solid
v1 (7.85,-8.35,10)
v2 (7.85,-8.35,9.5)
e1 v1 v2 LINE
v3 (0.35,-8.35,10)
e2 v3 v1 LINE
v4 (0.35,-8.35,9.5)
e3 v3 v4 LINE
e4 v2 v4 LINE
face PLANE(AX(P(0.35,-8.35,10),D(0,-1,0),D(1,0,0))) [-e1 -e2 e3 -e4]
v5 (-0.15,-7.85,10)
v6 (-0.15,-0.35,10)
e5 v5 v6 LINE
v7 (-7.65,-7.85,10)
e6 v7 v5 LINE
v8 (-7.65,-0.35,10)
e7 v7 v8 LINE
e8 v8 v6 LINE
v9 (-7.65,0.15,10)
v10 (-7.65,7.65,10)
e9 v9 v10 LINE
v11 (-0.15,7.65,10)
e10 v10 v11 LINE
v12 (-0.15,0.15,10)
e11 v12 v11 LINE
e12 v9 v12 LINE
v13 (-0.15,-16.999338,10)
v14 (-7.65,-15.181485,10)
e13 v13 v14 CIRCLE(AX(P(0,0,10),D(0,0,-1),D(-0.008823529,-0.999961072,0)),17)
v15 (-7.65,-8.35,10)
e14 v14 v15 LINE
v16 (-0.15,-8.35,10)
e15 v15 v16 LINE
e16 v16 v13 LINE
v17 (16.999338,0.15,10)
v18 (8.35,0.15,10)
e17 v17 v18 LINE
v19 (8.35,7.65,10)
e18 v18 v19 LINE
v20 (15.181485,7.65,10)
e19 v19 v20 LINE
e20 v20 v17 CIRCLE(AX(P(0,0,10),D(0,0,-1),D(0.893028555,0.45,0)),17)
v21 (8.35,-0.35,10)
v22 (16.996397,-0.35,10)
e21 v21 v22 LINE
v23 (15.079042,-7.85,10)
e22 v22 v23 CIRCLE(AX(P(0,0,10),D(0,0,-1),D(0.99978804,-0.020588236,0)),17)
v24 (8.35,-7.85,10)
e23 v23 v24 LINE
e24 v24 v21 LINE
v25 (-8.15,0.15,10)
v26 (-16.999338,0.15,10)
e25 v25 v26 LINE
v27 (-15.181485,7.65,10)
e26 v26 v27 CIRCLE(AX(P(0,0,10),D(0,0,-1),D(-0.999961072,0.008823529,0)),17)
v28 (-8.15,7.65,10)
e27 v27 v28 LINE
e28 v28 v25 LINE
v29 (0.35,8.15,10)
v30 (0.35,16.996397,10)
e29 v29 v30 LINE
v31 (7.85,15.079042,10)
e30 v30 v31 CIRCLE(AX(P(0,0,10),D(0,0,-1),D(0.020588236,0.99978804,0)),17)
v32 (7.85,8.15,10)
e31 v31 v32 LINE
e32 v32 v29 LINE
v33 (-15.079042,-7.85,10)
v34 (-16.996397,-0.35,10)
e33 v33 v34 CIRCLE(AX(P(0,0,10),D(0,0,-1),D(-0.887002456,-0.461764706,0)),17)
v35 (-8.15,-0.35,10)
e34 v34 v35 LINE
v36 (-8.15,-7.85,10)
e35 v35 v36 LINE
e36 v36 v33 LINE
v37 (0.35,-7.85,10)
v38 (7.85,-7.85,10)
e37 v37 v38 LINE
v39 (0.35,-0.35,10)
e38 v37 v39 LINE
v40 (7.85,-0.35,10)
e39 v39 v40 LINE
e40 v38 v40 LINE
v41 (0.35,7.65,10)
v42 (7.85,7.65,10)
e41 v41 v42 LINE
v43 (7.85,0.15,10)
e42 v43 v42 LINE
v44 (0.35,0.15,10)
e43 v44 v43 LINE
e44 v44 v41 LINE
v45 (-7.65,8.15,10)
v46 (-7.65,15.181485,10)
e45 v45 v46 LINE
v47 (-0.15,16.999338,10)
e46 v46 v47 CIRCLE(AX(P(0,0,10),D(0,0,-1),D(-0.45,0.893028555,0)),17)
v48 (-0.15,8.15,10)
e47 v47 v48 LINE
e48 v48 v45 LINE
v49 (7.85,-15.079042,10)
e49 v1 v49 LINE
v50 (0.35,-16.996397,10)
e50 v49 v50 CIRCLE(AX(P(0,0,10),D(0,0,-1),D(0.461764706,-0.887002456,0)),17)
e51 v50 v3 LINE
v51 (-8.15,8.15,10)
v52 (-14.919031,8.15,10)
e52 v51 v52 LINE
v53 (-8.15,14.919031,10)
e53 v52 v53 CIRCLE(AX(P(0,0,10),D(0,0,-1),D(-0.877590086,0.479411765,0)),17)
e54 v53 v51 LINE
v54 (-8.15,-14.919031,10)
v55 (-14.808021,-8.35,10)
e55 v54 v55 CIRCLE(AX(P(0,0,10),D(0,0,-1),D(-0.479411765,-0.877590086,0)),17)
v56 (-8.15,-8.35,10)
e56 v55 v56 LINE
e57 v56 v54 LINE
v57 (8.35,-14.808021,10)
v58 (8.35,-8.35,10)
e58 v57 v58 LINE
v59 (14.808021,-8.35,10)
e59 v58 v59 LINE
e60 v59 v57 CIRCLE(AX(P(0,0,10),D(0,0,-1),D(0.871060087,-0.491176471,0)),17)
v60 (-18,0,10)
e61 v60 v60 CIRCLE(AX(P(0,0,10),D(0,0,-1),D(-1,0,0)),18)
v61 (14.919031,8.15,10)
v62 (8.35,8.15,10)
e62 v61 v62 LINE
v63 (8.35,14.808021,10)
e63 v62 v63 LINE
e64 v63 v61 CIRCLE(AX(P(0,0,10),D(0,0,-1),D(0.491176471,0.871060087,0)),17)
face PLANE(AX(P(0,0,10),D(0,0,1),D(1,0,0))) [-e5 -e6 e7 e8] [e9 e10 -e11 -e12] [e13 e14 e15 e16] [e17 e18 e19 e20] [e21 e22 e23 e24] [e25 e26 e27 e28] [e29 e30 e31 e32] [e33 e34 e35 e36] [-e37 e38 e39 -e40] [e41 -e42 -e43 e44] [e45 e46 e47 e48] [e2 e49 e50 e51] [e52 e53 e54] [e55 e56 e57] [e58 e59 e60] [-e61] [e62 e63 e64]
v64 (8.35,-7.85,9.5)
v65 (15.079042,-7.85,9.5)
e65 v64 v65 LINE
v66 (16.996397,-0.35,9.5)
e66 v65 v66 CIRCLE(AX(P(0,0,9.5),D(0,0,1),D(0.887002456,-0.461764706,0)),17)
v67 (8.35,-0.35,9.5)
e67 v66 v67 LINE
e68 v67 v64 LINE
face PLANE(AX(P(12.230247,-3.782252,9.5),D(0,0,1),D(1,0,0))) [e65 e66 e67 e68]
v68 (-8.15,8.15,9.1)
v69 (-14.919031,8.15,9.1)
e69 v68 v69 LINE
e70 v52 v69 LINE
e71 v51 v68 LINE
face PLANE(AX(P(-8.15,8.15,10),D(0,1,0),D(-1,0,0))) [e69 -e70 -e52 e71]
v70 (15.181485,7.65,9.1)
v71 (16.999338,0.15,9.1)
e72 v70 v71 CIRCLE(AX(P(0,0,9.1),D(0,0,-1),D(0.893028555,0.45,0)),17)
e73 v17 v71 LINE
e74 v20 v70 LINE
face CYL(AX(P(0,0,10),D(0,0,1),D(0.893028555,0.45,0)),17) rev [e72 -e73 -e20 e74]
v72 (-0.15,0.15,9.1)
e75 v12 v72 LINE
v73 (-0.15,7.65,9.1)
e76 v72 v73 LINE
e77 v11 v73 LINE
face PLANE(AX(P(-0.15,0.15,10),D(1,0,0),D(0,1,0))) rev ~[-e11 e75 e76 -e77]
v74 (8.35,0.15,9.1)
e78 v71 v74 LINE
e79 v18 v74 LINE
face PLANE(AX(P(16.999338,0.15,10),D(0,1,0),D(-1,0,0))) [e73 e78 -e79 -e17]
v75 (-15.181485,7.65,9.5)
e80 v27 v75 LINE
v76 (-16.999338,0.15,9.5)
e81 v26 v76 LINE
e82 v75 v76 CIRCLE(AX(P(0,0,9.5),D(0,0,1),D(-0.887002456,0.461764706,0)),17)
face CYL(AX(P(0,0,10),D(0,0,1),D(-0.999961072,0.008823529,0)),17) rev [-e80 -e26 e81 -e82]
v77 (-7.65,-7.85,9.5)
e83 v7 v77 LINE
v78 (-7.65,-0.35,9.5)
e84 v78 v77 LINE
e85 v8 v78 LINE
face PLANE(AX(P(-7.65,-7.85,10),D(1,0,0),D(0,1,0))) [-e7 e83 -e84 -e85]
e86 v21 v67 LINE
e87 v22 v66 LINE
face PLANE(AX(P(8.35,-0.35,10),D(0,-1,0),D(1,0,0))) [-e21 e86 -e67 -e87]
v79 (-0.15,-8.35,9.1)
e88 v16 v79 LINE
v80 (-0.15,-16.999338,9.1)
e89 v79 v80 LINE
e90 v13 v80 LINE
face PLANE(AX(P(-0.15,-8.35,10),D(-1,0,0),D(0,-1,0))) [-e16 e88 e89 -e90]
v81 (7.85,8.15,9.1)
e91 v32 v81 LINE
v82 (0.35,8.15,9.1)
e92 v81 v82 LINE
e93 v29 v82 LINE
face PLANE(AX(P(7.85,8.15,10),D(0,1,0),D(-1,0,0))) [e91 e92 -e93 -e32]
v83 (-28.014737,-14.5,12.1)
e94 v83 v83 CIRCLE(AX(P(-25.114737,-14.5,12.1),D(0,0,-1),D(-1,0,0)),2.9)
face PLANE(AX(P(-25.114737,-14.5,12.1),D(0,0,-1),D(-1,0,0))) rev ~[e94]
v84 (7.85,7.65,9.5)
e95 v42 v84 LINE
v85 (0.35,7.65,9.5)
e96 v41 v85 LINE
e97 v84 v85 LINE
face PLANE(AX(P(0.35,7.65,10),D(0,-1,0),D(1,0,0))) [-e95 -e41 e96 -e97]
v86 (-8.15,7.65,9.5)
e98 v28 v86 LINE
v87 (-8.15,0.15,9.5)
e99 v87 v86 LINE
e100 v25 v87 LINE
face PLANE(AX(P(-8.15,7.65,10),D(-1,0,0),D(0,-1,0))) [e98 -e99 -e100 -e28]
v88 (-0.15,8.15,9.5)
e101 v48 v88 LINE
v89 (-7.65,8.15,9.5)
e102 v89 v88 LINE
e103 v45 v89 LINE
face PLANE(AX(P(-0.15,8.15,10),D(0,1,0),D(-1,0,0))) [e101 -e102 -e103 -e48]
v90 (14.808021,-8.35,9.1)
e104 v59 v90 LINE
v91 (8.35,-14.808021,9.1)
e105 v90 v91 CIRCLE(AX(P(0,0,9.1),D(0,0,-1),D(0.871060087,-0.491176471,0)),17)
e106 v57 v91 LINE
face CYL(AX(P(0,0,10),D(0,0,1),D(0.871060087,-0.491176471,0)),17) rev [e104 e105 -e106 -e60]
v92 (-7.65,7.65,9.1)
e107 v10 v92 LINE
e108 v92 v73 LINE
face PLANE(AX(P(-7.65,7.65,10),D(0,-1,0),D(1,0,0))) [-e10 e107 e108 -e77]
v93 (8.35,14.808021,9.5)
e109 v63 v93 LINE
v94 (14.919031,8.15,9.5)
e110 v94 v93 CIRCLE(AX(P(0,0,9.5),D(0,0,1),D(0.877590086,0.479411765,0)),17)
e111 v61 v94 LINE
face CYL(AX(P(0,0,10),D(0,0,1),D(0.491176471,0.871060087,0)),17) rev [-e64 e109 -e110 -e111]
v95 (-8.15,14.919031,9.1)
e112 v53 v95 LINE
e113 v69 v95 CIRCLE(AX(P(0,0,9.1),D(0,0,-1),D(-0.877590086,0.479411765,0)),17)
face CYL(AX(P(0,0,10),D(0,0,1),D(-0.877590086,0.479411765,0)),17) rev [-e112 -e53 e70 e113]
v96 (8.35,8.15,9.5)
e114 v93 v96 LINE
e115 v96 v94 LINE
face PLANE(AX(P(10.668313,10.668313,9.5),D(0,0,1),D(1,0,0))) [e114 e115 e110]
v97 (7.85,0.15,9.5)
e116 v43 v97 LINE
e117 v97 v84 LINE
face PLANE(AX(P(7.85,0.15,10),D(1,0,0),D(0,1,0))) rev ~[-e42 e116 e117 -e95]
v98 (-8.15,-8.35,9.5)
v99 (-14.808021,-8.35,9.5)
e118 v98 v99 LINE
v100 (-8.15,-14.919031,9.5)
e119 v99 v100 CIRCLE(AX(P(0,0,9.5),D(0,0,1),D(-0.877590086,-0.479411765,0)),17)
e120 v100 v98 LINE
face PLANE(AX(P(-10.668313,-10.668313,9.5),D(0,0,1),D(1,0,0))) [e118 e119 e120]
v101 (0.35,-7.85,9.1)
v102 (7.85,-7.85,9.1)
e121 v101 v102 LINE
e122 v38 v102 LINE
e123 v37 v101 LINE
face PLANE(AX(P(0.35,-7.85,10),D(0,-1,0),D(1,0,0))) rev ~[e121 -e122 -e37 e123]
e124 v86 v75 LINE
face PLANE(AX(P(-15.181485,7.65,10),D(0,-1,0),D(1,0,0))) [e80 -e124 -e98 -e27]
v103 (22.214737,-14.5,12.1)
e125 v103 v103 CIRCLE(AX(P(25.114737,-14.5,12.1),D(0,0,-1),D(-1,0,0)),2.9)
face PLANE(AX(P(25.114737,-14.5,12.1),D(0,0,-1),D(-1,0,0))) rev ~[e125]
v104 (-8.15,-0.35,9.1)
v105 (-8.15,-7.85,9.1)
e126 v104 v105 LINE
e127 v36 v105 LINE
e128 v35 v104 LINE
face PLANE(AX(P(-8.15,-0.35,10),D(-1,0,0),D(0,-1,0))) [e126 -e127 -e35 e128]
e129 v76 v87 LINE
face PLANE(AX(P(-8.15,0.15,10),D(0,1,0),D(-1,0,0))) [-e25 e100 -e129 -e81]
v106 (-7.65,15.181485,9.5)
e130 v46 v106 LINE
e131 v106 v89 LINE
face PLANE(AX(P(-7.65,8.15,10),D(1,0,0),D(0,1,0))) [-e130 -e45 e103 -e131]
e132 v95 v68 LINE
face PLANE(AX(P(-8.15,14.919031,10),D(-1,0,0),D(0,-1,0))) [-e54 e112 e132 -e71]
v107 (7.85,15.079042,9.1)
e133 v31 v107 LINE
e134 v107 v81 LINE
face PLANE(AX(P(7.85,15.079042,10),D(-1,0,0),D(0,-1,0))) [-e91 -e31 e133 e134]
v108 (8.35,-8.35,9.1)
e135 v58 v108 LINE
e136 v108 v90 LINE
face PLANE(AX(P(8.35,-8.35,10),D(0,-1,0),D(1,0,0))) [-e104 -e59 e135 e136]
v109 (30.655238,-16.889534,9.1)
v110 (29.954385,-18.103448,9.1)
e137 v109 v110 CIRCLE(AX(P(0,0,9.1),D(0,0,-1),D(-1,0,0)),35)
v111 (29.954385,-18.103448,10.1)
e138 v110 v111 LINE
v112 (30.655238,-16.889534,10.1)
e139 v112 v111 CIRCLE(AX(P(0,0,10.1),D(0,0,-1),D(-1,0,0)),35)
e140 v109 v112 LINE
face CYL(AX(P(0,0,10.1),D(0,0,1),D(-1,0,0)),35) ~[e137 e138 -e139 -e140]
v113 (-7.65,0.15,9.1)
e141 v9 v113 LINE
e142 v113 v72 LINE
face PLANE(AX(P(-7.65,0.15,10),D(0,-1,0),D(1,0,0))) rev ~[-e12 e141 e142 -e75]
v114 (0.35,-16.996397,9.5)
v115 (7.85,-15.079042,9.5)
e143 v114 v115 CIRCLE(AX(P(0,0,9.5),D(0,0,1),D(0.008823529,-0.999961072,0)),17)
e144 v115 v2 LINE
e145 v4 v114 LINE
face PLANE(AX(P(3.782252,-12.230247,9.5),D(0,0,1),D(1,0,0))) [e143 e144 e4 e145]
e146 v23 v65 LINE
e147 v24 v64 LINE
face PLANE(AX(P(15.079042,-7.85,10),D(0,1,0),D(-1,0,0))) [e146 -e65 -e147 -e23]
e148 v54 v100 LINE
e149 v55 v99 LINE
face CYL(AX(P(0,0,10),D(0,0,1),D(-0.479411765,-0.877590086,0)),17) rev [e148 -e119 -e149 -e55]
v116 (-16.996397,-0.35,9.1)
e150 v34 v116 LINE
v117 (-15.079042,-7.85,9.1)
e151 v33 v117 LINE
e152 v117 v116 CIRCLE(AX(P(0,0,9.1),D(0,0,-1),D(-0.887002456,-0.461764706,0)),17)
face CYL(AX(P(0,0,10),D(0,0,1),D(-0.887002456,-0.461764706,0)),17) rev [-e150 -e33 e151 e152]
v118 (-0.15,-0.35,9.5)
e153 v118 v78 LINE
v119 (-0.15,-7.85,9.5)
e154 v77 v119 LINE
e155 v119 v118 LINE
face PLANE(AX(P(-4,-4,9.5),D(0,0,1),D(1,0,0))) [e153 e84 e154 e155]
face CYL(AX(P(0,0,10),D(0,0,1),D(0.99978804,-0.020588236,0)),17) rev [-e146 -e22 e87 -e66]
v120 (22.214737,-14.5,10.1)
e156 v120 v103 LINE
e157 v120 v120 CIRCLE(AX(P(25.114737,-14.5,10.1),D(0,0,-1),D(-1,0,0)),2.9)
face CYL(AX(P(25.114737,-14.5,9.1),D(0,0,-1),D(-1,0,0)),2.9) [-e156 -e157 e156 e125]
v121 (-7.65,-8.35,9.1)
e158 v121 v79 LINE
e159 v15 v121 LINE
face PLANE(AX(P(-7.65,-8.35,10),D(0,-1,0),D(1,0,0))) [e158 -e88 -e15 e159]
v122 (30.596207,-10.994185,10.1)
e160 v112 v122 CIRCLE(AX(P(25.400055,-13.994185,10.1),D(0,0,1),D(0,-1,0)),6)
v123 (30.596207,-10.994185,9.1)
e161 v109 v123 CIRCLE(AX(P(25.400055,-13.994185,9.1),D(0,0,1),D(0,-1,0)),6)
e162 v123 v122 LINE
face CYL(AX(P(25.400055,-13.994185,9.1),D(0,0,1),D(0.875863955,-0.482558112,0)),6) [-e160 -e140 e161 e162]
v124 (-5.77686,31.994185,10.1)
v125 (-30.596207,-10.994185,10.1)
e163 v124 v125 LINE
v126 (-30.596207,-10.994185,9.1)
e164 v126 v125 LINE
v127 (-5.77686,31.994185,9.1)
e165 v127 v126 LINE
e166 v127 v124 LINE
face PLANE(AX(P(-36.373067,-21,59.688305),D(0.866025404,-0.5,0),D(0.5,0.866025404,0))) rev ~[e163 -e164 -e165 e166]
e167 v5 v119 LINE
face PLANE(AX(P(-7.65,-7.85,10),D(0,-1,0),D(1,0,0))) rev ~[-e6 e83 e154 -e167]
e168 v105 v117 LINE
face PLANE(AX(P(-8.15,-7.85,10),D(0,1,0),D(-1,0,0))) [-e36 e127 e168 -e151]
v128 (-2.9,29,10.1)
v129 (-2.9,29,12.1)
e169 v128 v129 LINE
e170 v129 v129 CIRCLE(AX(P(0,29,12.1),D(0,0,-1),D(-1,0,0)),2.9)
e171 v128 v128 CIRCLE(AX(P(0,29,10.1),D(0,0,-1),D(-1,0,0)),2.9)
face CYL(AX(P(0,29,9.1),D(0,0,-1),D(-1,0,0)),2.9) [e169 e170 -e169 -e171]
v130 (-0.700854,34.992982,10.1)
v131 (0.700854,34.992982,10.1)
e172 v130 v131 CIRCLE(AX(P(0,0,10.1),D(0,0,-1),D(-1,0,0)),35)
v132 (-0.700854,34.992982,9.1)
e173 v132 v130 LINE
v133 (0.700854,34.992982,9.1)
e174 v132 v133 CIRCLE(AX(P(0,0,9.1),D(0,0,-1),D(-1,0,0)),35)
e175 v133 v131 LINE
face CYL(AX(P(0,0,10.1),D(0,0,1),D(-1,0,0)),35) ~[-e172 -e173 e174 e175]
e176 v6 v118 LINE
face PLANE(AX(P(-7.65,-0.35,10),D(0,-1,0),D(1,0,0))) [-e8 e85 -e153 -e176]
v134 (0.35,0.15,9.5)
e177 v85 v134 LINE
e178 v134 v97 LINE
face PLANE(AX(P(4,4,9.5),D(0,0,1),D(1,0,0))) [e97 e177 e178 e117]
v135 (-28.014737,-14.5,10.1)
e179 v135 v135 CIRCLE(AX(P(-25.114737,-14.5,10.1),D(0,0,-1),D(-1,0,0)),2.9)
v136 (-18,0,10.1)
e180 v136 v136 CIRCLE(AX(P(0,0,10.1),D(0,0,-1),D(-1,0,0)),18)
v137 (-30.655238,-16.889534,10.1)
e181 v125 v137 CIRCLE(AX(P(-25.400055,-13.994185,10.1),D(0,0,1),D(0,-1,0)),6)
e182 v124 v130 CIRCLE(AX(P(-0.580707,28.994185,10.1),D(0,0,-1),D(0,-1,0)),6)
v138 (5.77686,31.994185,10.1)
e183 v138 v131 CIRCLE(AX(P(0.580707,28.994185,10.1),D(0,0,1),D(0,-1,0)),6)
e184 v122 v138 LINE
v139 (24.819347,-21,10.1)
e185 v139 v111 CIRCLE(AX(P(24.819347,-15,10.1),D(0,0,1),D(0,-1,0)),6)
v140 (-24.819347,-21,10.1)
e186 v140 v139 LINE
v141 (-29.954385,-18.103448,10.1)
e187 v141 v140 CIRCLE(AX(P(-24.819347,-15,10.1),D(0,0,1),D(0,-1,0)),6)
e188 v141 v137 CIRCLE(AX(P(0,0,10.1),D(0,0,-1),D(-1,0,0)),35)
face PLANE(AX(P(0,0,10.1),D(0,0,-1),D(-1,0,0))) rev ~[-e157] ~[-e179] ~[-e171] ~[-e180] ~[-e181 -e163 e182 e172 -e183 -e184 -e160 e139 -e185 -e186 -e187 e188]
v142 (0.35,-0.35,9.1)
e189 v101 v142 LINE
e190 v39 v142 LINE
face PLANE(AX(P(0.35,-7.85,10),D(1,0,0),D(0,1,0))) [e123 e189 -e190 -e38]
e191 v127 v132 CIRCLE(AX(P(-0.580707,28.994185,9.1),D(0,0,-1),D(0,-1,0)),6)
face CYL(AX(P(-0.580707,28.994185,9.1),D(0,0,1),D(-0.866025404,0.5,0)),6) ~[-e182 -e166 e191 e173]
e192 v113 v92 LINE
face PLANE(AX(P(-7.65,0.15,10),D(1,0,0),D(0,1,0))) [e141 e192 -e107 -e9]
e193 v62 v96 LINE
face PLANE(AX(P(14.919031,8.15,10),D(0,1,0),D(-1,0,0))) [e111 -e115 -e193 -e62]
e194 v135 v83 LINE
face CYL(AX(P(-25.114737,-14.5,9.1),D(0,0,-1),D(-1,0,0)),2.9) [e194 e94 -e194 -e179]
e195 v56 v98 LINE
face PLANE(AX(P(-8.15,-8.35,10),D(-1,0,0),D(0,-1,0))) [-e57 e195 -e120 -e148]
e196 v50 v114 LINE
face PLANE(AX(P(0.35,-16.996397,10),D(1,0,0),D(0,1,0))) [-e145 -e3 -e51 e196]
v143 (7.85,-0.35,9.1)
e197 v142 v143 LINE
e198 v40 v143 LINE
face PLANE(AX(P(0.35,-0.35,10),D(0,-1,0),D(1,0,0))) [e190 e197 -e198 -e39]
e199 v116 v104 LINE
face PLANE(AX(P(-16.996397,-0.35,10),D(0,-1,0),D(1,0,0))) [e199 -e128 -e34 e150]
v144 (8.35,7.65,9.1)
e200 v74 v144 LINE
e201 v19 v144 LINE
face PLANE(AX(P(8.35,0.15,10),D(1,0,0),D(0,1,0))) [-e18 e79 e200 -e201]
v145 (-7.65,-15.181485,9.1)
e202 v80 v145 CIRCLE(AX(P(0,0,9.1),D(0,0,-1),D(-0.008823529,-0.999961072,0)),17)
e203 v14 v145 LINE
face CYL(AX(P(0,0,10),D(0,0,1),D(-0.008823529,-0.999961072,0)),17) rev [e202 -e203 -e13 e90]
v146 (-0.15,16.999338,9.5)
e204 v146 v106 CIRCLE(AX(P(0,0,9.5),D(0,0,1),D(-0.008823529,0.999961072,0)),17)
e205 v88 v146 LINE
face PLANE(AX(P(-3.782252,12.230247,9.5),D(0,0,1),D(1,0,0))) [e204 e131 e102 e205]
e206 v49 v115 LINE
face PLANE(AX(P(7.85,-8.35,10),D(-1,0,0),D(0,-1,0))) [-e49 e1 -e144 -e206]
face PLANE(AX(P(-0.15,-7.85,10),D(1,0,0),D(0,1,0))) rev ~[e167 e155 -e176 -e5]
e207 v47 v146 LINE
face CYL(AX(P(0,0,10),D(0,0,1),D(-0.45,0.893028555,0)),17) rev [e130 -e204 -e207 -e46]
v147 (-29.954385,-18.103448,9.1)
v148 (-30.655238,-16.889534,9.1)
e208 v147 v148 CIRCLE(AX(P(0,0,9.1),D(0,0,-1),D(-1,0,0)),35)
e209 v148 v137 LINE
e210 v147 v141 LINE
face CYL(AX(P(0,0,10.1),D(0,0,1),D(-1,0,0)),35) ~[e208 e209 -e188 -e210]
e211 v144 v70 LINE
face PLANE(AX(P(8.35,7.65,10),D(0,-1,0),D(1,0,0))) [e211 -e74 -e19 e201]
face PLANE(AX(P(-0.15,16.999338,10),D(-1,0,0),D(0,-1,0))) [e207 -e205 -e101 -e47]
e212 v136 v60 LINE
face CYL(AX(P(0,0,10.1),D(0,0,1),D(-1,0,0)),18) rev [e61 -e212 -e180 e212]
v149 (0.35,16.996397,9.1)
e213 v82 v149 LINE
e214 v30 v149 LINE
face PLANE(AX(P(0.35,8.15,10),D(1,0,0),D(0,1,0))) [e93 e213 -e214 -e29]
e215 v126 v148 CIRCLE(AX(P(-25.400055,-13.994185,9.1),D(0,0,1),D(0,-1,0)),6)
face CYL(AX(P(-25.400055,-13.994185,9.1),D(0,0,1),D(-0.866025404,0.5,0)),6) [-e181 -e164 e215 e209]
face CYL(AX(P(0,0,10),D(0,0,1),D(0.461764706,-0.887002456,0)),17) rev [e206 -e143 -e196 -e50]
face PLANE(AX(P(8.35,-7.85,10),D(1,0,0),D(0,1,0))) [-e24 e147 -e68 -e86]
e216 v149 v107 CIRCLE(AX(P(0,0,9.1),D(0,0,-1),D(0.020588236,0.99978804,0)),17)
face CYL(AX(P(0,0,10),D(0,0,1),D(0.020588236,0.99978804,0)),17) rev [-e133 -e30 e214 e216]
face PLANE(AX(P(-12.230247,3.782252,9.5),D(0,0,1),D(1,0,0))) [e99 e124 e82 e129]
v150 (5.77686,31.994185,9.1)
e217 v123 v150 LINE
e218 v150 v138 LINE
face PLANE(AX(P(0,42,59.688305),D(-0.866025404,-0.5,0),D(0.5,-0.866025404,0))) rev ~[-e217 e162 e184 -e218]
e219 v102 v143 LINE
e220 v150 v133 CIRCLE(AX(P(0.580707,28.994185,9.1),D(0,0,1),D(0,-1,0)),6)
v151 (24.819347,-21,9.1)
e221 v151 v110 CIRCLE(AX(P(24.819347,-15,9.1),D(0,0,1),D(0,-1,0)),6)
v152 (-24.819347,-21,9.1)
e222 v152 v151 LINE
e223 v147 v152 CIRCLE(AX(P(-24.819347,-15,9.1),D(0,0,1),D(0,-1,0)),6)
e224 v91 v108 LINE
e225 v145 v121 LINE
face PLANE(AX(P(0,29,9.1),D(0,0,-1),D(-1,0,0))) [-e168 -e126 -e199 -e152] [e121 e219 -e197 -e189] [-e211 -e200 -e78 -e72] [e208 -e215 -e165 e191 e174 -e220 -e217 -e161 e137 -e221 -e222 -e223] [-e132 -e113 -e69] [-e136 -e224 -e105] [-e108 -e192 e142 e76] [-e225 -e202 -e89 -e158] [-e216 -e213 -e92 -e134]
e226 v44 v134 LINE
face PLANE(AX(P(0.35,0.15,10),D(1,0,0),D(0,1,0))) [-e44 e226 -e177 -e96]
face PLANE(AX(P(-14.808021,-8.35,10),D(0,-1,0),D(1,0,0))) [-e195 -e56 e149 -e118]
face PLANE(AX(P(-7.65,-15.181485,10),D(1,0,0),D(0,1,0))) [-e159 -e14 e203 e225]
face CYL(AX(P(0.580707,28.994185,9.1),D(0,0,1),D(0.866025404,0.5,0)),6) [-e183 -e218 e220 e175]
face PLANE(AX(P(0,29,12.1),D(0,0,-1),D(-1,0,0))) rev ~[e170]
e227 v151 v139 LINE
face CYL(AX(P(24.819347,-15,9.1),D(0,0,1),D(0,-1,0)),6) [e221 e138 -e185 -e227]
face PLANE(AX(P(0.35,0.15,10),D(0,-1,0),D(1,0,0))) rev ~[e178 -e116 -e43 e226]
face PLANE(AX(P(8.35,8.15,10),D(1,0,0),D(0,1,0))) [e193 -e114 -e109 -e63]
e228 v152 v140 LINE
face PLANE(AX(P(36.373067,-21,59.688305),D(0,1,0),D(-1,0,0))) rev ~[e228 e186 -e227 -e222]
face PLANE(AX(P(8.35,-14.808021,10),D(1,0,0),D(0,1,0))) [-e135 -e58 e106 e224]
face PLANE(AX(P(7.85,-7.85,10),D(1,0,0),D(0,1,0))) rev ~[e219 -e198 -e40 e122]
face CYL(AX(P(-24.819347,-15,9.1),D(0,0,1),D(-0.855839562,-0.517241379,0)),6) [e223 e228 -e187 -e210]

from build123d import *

# Parameters (mm, degrees)
SKETCH2_R               = 18
SKETCH2_W               = 7.5
SKETCH2_H               = 7.5
BOSS_EXTRUDE1_DEPTH     = 0.9
BOSS_EXTRUDE10_START    = 0.4
SKETCH18_W              = 7.7
SKETCH18_H              = 7.7
BOSS_EXTRUDE10_DEPTH    = 0.4
BOSS_EXTRUDE2_START     = -1
SKETCH3_R               = 35
SKETCH3_R_2             = 18
BOSS_EXTRUDE2_DEPTH     = 1
SKETCH4_R               = 2.9
BOSS_EXTRUDE3_DEPTH     = 3
CUT_EXTRUDE1_DEPTH      = 50.588305073
CUT_EXTRUDE1_DEPTH_BACK = 50.588305073
SKETCH7_R               = 59.131365533
FILLET1_R               = 6


with BuildPart() as part:
    # Sketch2 → Boss-Extrude1 (new body)
    with BuildSketch(Plane.XY.offset(10)):
        Circle(SKETCH2_R)
        with BuildLine():
            Line((-8.15, -8.35), (-8.15, -14.91903147))
            ThreePointArc((-8.15, -14.91903147), (-11.939670478, -12.101415986), (-14.808021475, -8.35))
            Line((-14.808021475, -8.35), (-8.15, -8.35))
        make_face(mode=Mode.SUBTRACT)
        with BuildLine():
            Line((-8.15, -7.85), (-15.079041747, -7.85))
            ThreePointArc((-15.079041747, -7.85), (-16.470304718, -4.210589327), (-16.996396677, -0.35))
            Line((-16.996396677, -0.35), (-8.15, -0.35))
            Line((-8.15, -0.35), (-8.15, -7.85))
        make_face(mode=Mode.SUBTRACT)
        with BuildLine():
            Line((-8.15, 0.15), (-16.999338222, 0.15))
            ThreePointArc((-16.999338222, 0.15), (-16.521617742, 4.00451585), (-15.181485435, 7.65))
            Line((-15.181485435, 7.65), (-8.15, 7.65))
            Line((-8.15, 7.65), (-8.15, 0.15))
        make_face(mode=Mode.SUBTRACT)
        with BuildLine():
            Line((-8.15, 8.15), (-14.91903147, 8.15))
            ThreePointArc((-14.91903147, 8.15), (-12.02081528, 12.02081528), (-8.15, 14.91903147))
            Line((-8.15, 14.91903147), (-8.15, 8.15))
        make_face(mode=Mode.SUBTRACT)
        with BuildLine():
            Line((-7.65, 8.15), (-7.65, 15.181485435))
            ThreePointArc((-7.65, 15.181485435), (-4.00451585, 16.521617742), (-0.15, 16.999338222))
            Line((-0.15, 16.999338222), (-0.15, 8.15))
            Line((-0.15, 8.15), (-7.65, 8.15))
        make_face(mode=Mode.SUBTRACT)
        with BuildLine():
            Line((0.35, 8.15), (0.35, 16.996396677))
            ThreePointArc((0.35, 16.996396677), (4.210589327, 16.470304718), (7.85, 15.079041747))
            Line((7.85, 15.079041747), (7.85, 8.15))
            Line((7.85, 8.15), (0.35, 8.15))
        make_face(mode=Mode.SUBTRACT)
        with BuildLine():
            Line((8.35, 8.15), (8.35, 14.808021475))
            ThreePointArc((8.35, 14.808021475), (12.101415986, 11.939670478), (14.91903147, 8.15))
            Line((14.91903147, 8.15), (8.35, 8.15))
        make_face(mode=Mode.SUBTRACT)
        with BuildLine():
            Line((8.35, 7.65), (15.181485435, 7.65))
            ThreePointArc((15.181485435, 7.65), (16.521617742, 4.00451585), (16.999338222, 0.15))
            Line((16.999338222, 0.15), (8.35, 0.15))
            Line((8.35, 0.15), (8.35, 7.65))
        make_face(mode=Mode.SUBTRACT)
        with BuildLine():
            Line((8.35, -0.35), (16.996396677, -0.35))
            ThreePointArc((16.996396677, -0.35), (16.470304718, -4.210589327), (15.079041747, -7.85))
            Line((15.079041747, -7.85), (8.35, -7.85))
            Line((8.35, -7.85), (8.35, -0.35))
        make_face(mode=Mode.SUBTRACT)
        with BuildLine():
            Line((8.35, -8.35), (14.808021475, -8.35))
            ThreePointArc((14.808021475, -8.35), (12.02081528, -12.02081528), (8.35, -14.808021475))
            Line((8.35, -14.808021475), (8.35, -8.35))
        make_face(mode=Mode.SUBTRACT)
        with BuildLine():
            Line((7.85, -8.35), (7.85, -15.079041747))
            ThreePointArc((7.85, -15.079041747), (4.210589327, -16.470304718), (0.35, -16.996396677))
            Line((0.35, -16.996396677), (0.35, -8.35))
            Line((0.35, -8.35), (7.85, -8.35))
        make_face(mode=Mode.SUBTRACT)
        with BuildLine():
            Line((-0.15, -8.35), (-0.15, -16.999338222))
            ThreePointArc((-0.15, -16.999338222), (-4.00451585, -16.521617742), (-7.65, -15.181485435))
            Line((-7.65, -15.181485435), (-7.65, -8.35))
            Line((-7.65, -8.35), (-0.15, -8.35))
        make_face(mode=Mode.SUBTRACT)
        with Locations((-3.9, -4.1)):
            Rectangle(SKETCH2_W, SKETCH2_H, mode=Mode.SUBTRACT)
        with Locations((4.1, -4.1)):
            Rectangle(SKETCH2_W, SKETCH2_H, mode=Mode.SUBTRACT)
        with Locations((-3.9, 3.9)):
            Rectangle(SKETCH2_W, SKETCH2_H, mode=Mode.SUBTRACT)
        with Locations((4.1, 3.9)):
            Rectangle(SKETCH2_W, SKETCH2_H, mode=Mode.SUBTRACT)
    extrude(amount=-BOSS_EXTRUDE1_DEPTH)

    # Sketch18 → Boss-Extrude10 (add)
    with BuildSketch(Plane.XY.offset(9.1).offset(BOSS_EXTRUDE10_START)):
        with BuildLine():
            ThreePointArc((-0.15, 16.999338222), (-4.11362184, 16.494790552), (-7.85, 15.079041747))
            Line((-7.85, 15.079041747), (-7.85, 8.15))
            Line((-7.85, 8.15), (-0.15, 8.15))
            Line((-0.15, 8.15), (-0.15, 16.999338222))
        make_face()
        with Locations((4, 4)):
            Rectangle(SKETCH18_W, SKETCH18_H)
        with Locations((-4, -4)):
            Rectangle(SKETCH18_W, SKETCH18_H)
        with BuildLine():
            Line((8.15, 8.15), (14.91903147, 8.15))
            ThreePointArc((14.91903147, 8.15), (12.02081528, 12.02081528), (8.15, 14.91903147))
            Line((8.15, 14.91903147), (8.15, 8.15))
        make_face()
        with BuildLine():
            ThreePointArc((-15.079041747, 7.85), (-16.494790552, 4.11362184), (-16.999338222, 0.15))
            Line((-16.999338222, 0.15), (-8.15, 0.15))
            Line((-8.15, 0.15), (-8.15, 7.85))
            Line((-8.15, 7.85), (-15.079041747, 7.85))
        make_face()
        with BuildLine():
            Line((0.15, -8.15), (0.15, -16.999338222))
            ThreePointArc((0.15, -16.999338222), (4.11362184, -16.494790552), (7.85, -15.079041747))
            Line((7.85, -15.079041747), (7.85, -8.15))
            Line((7.85, -8.15), (0.15, -8.15))
        make_face()
        with BuildLine():
            ThreePointArc((-14.91903147, -8.15), (-12.02081528, -12.02081528), (-8.15, -14.91903147))
            Line((-8.15, -14.91903147), (-8.15, -8.15))
            Line((-8.15, -8.15), (-14.91903147, -8.15))
        make_face()
        with BuildLine():
            Line((8.15, -7.85), (15.079041747, -7.85))
            ThreePointArc((15.079041747, -7.85), (16.494790552, -4.11362184), (16.999338222, -0.15))
            Line((16.999338222, -0.15), (8.15, -0.15))
            Line((8.15, -0.15), (8.15, -7.85))
        make_face()
    extrude(amount=-BOSS_EXTRUDE10_DEPTH)

    # Sketch3 → Boss-Extrude2 (add)
    with BuildSketch(Plane(origin=(0, 0, 9.1), x_dir=(-1, 0, 0), z_dir=(0, 0, -1)).offset(BOSS_EXTRUDE2_START)):
        Circle(SKETCH3_R)
        Circle(SKETCH3_R_2, mode=Mode.SUBTRACT)
    extrude(amount=BOSS_EXTRUDE2_DEPTH)

    # Sketch4 → Boss-Extrude3 (add)
    with BuildSketch(Plane(origin=(0, 0, 9.1), x_dir=(-1, 0, 0), z_dir=(0, 0, -1))):
        with Locations((0, 29)):
            Circle(SKETCH4_R)
        with Locations((25.11473671, -14.5)):
            Circle(SKETCH4_R)
        with Locations((-25.11473671, -14.5)):
            Circle(SKETCH4_R)
    extrude(amount=-BOSS_EXTRUDE3_DEPTH)

    # Sketch7 → Cut-Extrude1 (cut, two sides: drawn at the far end of the back side and taken through both)
    with BuildSketch(Plane(origin=(0, 0, 9.1), x_dir=(-1, 0, 0), z_dir=(0, 0, -1)).offset(-CUT_EXTRUDE1_DEPTH_BACK)):
        Circle(SKETCH7_R)
        Polygon((0, 42), (-36.373066959, -21), (36.373066959, -21), align=None, mode=Mode.SUBTRACT)
    extrude(amount=CUT_EXTRUDE1_DEPTH + CUT_EXTRUDE1_DEPTH_BACK, mode=Mode.SUBTRACT)

    # Fillet1
    fillet1_edges = [part.edges().sort_by_distance(p)[0] for p in [
        (-4.186533479, 34.748711306, 9.6),
        (-32.186533479, -13.748711306, 9.6),
        (-28, -21, 9.6),
        (28, -21, 9.6),
        (32.186533479, -13.748711306, 9.6),
        (4.186533479, 34.748711306, 9.6),
    ]]
    fillet(fillet1_edges, radius=FILLET1_R)


solid = part.part
